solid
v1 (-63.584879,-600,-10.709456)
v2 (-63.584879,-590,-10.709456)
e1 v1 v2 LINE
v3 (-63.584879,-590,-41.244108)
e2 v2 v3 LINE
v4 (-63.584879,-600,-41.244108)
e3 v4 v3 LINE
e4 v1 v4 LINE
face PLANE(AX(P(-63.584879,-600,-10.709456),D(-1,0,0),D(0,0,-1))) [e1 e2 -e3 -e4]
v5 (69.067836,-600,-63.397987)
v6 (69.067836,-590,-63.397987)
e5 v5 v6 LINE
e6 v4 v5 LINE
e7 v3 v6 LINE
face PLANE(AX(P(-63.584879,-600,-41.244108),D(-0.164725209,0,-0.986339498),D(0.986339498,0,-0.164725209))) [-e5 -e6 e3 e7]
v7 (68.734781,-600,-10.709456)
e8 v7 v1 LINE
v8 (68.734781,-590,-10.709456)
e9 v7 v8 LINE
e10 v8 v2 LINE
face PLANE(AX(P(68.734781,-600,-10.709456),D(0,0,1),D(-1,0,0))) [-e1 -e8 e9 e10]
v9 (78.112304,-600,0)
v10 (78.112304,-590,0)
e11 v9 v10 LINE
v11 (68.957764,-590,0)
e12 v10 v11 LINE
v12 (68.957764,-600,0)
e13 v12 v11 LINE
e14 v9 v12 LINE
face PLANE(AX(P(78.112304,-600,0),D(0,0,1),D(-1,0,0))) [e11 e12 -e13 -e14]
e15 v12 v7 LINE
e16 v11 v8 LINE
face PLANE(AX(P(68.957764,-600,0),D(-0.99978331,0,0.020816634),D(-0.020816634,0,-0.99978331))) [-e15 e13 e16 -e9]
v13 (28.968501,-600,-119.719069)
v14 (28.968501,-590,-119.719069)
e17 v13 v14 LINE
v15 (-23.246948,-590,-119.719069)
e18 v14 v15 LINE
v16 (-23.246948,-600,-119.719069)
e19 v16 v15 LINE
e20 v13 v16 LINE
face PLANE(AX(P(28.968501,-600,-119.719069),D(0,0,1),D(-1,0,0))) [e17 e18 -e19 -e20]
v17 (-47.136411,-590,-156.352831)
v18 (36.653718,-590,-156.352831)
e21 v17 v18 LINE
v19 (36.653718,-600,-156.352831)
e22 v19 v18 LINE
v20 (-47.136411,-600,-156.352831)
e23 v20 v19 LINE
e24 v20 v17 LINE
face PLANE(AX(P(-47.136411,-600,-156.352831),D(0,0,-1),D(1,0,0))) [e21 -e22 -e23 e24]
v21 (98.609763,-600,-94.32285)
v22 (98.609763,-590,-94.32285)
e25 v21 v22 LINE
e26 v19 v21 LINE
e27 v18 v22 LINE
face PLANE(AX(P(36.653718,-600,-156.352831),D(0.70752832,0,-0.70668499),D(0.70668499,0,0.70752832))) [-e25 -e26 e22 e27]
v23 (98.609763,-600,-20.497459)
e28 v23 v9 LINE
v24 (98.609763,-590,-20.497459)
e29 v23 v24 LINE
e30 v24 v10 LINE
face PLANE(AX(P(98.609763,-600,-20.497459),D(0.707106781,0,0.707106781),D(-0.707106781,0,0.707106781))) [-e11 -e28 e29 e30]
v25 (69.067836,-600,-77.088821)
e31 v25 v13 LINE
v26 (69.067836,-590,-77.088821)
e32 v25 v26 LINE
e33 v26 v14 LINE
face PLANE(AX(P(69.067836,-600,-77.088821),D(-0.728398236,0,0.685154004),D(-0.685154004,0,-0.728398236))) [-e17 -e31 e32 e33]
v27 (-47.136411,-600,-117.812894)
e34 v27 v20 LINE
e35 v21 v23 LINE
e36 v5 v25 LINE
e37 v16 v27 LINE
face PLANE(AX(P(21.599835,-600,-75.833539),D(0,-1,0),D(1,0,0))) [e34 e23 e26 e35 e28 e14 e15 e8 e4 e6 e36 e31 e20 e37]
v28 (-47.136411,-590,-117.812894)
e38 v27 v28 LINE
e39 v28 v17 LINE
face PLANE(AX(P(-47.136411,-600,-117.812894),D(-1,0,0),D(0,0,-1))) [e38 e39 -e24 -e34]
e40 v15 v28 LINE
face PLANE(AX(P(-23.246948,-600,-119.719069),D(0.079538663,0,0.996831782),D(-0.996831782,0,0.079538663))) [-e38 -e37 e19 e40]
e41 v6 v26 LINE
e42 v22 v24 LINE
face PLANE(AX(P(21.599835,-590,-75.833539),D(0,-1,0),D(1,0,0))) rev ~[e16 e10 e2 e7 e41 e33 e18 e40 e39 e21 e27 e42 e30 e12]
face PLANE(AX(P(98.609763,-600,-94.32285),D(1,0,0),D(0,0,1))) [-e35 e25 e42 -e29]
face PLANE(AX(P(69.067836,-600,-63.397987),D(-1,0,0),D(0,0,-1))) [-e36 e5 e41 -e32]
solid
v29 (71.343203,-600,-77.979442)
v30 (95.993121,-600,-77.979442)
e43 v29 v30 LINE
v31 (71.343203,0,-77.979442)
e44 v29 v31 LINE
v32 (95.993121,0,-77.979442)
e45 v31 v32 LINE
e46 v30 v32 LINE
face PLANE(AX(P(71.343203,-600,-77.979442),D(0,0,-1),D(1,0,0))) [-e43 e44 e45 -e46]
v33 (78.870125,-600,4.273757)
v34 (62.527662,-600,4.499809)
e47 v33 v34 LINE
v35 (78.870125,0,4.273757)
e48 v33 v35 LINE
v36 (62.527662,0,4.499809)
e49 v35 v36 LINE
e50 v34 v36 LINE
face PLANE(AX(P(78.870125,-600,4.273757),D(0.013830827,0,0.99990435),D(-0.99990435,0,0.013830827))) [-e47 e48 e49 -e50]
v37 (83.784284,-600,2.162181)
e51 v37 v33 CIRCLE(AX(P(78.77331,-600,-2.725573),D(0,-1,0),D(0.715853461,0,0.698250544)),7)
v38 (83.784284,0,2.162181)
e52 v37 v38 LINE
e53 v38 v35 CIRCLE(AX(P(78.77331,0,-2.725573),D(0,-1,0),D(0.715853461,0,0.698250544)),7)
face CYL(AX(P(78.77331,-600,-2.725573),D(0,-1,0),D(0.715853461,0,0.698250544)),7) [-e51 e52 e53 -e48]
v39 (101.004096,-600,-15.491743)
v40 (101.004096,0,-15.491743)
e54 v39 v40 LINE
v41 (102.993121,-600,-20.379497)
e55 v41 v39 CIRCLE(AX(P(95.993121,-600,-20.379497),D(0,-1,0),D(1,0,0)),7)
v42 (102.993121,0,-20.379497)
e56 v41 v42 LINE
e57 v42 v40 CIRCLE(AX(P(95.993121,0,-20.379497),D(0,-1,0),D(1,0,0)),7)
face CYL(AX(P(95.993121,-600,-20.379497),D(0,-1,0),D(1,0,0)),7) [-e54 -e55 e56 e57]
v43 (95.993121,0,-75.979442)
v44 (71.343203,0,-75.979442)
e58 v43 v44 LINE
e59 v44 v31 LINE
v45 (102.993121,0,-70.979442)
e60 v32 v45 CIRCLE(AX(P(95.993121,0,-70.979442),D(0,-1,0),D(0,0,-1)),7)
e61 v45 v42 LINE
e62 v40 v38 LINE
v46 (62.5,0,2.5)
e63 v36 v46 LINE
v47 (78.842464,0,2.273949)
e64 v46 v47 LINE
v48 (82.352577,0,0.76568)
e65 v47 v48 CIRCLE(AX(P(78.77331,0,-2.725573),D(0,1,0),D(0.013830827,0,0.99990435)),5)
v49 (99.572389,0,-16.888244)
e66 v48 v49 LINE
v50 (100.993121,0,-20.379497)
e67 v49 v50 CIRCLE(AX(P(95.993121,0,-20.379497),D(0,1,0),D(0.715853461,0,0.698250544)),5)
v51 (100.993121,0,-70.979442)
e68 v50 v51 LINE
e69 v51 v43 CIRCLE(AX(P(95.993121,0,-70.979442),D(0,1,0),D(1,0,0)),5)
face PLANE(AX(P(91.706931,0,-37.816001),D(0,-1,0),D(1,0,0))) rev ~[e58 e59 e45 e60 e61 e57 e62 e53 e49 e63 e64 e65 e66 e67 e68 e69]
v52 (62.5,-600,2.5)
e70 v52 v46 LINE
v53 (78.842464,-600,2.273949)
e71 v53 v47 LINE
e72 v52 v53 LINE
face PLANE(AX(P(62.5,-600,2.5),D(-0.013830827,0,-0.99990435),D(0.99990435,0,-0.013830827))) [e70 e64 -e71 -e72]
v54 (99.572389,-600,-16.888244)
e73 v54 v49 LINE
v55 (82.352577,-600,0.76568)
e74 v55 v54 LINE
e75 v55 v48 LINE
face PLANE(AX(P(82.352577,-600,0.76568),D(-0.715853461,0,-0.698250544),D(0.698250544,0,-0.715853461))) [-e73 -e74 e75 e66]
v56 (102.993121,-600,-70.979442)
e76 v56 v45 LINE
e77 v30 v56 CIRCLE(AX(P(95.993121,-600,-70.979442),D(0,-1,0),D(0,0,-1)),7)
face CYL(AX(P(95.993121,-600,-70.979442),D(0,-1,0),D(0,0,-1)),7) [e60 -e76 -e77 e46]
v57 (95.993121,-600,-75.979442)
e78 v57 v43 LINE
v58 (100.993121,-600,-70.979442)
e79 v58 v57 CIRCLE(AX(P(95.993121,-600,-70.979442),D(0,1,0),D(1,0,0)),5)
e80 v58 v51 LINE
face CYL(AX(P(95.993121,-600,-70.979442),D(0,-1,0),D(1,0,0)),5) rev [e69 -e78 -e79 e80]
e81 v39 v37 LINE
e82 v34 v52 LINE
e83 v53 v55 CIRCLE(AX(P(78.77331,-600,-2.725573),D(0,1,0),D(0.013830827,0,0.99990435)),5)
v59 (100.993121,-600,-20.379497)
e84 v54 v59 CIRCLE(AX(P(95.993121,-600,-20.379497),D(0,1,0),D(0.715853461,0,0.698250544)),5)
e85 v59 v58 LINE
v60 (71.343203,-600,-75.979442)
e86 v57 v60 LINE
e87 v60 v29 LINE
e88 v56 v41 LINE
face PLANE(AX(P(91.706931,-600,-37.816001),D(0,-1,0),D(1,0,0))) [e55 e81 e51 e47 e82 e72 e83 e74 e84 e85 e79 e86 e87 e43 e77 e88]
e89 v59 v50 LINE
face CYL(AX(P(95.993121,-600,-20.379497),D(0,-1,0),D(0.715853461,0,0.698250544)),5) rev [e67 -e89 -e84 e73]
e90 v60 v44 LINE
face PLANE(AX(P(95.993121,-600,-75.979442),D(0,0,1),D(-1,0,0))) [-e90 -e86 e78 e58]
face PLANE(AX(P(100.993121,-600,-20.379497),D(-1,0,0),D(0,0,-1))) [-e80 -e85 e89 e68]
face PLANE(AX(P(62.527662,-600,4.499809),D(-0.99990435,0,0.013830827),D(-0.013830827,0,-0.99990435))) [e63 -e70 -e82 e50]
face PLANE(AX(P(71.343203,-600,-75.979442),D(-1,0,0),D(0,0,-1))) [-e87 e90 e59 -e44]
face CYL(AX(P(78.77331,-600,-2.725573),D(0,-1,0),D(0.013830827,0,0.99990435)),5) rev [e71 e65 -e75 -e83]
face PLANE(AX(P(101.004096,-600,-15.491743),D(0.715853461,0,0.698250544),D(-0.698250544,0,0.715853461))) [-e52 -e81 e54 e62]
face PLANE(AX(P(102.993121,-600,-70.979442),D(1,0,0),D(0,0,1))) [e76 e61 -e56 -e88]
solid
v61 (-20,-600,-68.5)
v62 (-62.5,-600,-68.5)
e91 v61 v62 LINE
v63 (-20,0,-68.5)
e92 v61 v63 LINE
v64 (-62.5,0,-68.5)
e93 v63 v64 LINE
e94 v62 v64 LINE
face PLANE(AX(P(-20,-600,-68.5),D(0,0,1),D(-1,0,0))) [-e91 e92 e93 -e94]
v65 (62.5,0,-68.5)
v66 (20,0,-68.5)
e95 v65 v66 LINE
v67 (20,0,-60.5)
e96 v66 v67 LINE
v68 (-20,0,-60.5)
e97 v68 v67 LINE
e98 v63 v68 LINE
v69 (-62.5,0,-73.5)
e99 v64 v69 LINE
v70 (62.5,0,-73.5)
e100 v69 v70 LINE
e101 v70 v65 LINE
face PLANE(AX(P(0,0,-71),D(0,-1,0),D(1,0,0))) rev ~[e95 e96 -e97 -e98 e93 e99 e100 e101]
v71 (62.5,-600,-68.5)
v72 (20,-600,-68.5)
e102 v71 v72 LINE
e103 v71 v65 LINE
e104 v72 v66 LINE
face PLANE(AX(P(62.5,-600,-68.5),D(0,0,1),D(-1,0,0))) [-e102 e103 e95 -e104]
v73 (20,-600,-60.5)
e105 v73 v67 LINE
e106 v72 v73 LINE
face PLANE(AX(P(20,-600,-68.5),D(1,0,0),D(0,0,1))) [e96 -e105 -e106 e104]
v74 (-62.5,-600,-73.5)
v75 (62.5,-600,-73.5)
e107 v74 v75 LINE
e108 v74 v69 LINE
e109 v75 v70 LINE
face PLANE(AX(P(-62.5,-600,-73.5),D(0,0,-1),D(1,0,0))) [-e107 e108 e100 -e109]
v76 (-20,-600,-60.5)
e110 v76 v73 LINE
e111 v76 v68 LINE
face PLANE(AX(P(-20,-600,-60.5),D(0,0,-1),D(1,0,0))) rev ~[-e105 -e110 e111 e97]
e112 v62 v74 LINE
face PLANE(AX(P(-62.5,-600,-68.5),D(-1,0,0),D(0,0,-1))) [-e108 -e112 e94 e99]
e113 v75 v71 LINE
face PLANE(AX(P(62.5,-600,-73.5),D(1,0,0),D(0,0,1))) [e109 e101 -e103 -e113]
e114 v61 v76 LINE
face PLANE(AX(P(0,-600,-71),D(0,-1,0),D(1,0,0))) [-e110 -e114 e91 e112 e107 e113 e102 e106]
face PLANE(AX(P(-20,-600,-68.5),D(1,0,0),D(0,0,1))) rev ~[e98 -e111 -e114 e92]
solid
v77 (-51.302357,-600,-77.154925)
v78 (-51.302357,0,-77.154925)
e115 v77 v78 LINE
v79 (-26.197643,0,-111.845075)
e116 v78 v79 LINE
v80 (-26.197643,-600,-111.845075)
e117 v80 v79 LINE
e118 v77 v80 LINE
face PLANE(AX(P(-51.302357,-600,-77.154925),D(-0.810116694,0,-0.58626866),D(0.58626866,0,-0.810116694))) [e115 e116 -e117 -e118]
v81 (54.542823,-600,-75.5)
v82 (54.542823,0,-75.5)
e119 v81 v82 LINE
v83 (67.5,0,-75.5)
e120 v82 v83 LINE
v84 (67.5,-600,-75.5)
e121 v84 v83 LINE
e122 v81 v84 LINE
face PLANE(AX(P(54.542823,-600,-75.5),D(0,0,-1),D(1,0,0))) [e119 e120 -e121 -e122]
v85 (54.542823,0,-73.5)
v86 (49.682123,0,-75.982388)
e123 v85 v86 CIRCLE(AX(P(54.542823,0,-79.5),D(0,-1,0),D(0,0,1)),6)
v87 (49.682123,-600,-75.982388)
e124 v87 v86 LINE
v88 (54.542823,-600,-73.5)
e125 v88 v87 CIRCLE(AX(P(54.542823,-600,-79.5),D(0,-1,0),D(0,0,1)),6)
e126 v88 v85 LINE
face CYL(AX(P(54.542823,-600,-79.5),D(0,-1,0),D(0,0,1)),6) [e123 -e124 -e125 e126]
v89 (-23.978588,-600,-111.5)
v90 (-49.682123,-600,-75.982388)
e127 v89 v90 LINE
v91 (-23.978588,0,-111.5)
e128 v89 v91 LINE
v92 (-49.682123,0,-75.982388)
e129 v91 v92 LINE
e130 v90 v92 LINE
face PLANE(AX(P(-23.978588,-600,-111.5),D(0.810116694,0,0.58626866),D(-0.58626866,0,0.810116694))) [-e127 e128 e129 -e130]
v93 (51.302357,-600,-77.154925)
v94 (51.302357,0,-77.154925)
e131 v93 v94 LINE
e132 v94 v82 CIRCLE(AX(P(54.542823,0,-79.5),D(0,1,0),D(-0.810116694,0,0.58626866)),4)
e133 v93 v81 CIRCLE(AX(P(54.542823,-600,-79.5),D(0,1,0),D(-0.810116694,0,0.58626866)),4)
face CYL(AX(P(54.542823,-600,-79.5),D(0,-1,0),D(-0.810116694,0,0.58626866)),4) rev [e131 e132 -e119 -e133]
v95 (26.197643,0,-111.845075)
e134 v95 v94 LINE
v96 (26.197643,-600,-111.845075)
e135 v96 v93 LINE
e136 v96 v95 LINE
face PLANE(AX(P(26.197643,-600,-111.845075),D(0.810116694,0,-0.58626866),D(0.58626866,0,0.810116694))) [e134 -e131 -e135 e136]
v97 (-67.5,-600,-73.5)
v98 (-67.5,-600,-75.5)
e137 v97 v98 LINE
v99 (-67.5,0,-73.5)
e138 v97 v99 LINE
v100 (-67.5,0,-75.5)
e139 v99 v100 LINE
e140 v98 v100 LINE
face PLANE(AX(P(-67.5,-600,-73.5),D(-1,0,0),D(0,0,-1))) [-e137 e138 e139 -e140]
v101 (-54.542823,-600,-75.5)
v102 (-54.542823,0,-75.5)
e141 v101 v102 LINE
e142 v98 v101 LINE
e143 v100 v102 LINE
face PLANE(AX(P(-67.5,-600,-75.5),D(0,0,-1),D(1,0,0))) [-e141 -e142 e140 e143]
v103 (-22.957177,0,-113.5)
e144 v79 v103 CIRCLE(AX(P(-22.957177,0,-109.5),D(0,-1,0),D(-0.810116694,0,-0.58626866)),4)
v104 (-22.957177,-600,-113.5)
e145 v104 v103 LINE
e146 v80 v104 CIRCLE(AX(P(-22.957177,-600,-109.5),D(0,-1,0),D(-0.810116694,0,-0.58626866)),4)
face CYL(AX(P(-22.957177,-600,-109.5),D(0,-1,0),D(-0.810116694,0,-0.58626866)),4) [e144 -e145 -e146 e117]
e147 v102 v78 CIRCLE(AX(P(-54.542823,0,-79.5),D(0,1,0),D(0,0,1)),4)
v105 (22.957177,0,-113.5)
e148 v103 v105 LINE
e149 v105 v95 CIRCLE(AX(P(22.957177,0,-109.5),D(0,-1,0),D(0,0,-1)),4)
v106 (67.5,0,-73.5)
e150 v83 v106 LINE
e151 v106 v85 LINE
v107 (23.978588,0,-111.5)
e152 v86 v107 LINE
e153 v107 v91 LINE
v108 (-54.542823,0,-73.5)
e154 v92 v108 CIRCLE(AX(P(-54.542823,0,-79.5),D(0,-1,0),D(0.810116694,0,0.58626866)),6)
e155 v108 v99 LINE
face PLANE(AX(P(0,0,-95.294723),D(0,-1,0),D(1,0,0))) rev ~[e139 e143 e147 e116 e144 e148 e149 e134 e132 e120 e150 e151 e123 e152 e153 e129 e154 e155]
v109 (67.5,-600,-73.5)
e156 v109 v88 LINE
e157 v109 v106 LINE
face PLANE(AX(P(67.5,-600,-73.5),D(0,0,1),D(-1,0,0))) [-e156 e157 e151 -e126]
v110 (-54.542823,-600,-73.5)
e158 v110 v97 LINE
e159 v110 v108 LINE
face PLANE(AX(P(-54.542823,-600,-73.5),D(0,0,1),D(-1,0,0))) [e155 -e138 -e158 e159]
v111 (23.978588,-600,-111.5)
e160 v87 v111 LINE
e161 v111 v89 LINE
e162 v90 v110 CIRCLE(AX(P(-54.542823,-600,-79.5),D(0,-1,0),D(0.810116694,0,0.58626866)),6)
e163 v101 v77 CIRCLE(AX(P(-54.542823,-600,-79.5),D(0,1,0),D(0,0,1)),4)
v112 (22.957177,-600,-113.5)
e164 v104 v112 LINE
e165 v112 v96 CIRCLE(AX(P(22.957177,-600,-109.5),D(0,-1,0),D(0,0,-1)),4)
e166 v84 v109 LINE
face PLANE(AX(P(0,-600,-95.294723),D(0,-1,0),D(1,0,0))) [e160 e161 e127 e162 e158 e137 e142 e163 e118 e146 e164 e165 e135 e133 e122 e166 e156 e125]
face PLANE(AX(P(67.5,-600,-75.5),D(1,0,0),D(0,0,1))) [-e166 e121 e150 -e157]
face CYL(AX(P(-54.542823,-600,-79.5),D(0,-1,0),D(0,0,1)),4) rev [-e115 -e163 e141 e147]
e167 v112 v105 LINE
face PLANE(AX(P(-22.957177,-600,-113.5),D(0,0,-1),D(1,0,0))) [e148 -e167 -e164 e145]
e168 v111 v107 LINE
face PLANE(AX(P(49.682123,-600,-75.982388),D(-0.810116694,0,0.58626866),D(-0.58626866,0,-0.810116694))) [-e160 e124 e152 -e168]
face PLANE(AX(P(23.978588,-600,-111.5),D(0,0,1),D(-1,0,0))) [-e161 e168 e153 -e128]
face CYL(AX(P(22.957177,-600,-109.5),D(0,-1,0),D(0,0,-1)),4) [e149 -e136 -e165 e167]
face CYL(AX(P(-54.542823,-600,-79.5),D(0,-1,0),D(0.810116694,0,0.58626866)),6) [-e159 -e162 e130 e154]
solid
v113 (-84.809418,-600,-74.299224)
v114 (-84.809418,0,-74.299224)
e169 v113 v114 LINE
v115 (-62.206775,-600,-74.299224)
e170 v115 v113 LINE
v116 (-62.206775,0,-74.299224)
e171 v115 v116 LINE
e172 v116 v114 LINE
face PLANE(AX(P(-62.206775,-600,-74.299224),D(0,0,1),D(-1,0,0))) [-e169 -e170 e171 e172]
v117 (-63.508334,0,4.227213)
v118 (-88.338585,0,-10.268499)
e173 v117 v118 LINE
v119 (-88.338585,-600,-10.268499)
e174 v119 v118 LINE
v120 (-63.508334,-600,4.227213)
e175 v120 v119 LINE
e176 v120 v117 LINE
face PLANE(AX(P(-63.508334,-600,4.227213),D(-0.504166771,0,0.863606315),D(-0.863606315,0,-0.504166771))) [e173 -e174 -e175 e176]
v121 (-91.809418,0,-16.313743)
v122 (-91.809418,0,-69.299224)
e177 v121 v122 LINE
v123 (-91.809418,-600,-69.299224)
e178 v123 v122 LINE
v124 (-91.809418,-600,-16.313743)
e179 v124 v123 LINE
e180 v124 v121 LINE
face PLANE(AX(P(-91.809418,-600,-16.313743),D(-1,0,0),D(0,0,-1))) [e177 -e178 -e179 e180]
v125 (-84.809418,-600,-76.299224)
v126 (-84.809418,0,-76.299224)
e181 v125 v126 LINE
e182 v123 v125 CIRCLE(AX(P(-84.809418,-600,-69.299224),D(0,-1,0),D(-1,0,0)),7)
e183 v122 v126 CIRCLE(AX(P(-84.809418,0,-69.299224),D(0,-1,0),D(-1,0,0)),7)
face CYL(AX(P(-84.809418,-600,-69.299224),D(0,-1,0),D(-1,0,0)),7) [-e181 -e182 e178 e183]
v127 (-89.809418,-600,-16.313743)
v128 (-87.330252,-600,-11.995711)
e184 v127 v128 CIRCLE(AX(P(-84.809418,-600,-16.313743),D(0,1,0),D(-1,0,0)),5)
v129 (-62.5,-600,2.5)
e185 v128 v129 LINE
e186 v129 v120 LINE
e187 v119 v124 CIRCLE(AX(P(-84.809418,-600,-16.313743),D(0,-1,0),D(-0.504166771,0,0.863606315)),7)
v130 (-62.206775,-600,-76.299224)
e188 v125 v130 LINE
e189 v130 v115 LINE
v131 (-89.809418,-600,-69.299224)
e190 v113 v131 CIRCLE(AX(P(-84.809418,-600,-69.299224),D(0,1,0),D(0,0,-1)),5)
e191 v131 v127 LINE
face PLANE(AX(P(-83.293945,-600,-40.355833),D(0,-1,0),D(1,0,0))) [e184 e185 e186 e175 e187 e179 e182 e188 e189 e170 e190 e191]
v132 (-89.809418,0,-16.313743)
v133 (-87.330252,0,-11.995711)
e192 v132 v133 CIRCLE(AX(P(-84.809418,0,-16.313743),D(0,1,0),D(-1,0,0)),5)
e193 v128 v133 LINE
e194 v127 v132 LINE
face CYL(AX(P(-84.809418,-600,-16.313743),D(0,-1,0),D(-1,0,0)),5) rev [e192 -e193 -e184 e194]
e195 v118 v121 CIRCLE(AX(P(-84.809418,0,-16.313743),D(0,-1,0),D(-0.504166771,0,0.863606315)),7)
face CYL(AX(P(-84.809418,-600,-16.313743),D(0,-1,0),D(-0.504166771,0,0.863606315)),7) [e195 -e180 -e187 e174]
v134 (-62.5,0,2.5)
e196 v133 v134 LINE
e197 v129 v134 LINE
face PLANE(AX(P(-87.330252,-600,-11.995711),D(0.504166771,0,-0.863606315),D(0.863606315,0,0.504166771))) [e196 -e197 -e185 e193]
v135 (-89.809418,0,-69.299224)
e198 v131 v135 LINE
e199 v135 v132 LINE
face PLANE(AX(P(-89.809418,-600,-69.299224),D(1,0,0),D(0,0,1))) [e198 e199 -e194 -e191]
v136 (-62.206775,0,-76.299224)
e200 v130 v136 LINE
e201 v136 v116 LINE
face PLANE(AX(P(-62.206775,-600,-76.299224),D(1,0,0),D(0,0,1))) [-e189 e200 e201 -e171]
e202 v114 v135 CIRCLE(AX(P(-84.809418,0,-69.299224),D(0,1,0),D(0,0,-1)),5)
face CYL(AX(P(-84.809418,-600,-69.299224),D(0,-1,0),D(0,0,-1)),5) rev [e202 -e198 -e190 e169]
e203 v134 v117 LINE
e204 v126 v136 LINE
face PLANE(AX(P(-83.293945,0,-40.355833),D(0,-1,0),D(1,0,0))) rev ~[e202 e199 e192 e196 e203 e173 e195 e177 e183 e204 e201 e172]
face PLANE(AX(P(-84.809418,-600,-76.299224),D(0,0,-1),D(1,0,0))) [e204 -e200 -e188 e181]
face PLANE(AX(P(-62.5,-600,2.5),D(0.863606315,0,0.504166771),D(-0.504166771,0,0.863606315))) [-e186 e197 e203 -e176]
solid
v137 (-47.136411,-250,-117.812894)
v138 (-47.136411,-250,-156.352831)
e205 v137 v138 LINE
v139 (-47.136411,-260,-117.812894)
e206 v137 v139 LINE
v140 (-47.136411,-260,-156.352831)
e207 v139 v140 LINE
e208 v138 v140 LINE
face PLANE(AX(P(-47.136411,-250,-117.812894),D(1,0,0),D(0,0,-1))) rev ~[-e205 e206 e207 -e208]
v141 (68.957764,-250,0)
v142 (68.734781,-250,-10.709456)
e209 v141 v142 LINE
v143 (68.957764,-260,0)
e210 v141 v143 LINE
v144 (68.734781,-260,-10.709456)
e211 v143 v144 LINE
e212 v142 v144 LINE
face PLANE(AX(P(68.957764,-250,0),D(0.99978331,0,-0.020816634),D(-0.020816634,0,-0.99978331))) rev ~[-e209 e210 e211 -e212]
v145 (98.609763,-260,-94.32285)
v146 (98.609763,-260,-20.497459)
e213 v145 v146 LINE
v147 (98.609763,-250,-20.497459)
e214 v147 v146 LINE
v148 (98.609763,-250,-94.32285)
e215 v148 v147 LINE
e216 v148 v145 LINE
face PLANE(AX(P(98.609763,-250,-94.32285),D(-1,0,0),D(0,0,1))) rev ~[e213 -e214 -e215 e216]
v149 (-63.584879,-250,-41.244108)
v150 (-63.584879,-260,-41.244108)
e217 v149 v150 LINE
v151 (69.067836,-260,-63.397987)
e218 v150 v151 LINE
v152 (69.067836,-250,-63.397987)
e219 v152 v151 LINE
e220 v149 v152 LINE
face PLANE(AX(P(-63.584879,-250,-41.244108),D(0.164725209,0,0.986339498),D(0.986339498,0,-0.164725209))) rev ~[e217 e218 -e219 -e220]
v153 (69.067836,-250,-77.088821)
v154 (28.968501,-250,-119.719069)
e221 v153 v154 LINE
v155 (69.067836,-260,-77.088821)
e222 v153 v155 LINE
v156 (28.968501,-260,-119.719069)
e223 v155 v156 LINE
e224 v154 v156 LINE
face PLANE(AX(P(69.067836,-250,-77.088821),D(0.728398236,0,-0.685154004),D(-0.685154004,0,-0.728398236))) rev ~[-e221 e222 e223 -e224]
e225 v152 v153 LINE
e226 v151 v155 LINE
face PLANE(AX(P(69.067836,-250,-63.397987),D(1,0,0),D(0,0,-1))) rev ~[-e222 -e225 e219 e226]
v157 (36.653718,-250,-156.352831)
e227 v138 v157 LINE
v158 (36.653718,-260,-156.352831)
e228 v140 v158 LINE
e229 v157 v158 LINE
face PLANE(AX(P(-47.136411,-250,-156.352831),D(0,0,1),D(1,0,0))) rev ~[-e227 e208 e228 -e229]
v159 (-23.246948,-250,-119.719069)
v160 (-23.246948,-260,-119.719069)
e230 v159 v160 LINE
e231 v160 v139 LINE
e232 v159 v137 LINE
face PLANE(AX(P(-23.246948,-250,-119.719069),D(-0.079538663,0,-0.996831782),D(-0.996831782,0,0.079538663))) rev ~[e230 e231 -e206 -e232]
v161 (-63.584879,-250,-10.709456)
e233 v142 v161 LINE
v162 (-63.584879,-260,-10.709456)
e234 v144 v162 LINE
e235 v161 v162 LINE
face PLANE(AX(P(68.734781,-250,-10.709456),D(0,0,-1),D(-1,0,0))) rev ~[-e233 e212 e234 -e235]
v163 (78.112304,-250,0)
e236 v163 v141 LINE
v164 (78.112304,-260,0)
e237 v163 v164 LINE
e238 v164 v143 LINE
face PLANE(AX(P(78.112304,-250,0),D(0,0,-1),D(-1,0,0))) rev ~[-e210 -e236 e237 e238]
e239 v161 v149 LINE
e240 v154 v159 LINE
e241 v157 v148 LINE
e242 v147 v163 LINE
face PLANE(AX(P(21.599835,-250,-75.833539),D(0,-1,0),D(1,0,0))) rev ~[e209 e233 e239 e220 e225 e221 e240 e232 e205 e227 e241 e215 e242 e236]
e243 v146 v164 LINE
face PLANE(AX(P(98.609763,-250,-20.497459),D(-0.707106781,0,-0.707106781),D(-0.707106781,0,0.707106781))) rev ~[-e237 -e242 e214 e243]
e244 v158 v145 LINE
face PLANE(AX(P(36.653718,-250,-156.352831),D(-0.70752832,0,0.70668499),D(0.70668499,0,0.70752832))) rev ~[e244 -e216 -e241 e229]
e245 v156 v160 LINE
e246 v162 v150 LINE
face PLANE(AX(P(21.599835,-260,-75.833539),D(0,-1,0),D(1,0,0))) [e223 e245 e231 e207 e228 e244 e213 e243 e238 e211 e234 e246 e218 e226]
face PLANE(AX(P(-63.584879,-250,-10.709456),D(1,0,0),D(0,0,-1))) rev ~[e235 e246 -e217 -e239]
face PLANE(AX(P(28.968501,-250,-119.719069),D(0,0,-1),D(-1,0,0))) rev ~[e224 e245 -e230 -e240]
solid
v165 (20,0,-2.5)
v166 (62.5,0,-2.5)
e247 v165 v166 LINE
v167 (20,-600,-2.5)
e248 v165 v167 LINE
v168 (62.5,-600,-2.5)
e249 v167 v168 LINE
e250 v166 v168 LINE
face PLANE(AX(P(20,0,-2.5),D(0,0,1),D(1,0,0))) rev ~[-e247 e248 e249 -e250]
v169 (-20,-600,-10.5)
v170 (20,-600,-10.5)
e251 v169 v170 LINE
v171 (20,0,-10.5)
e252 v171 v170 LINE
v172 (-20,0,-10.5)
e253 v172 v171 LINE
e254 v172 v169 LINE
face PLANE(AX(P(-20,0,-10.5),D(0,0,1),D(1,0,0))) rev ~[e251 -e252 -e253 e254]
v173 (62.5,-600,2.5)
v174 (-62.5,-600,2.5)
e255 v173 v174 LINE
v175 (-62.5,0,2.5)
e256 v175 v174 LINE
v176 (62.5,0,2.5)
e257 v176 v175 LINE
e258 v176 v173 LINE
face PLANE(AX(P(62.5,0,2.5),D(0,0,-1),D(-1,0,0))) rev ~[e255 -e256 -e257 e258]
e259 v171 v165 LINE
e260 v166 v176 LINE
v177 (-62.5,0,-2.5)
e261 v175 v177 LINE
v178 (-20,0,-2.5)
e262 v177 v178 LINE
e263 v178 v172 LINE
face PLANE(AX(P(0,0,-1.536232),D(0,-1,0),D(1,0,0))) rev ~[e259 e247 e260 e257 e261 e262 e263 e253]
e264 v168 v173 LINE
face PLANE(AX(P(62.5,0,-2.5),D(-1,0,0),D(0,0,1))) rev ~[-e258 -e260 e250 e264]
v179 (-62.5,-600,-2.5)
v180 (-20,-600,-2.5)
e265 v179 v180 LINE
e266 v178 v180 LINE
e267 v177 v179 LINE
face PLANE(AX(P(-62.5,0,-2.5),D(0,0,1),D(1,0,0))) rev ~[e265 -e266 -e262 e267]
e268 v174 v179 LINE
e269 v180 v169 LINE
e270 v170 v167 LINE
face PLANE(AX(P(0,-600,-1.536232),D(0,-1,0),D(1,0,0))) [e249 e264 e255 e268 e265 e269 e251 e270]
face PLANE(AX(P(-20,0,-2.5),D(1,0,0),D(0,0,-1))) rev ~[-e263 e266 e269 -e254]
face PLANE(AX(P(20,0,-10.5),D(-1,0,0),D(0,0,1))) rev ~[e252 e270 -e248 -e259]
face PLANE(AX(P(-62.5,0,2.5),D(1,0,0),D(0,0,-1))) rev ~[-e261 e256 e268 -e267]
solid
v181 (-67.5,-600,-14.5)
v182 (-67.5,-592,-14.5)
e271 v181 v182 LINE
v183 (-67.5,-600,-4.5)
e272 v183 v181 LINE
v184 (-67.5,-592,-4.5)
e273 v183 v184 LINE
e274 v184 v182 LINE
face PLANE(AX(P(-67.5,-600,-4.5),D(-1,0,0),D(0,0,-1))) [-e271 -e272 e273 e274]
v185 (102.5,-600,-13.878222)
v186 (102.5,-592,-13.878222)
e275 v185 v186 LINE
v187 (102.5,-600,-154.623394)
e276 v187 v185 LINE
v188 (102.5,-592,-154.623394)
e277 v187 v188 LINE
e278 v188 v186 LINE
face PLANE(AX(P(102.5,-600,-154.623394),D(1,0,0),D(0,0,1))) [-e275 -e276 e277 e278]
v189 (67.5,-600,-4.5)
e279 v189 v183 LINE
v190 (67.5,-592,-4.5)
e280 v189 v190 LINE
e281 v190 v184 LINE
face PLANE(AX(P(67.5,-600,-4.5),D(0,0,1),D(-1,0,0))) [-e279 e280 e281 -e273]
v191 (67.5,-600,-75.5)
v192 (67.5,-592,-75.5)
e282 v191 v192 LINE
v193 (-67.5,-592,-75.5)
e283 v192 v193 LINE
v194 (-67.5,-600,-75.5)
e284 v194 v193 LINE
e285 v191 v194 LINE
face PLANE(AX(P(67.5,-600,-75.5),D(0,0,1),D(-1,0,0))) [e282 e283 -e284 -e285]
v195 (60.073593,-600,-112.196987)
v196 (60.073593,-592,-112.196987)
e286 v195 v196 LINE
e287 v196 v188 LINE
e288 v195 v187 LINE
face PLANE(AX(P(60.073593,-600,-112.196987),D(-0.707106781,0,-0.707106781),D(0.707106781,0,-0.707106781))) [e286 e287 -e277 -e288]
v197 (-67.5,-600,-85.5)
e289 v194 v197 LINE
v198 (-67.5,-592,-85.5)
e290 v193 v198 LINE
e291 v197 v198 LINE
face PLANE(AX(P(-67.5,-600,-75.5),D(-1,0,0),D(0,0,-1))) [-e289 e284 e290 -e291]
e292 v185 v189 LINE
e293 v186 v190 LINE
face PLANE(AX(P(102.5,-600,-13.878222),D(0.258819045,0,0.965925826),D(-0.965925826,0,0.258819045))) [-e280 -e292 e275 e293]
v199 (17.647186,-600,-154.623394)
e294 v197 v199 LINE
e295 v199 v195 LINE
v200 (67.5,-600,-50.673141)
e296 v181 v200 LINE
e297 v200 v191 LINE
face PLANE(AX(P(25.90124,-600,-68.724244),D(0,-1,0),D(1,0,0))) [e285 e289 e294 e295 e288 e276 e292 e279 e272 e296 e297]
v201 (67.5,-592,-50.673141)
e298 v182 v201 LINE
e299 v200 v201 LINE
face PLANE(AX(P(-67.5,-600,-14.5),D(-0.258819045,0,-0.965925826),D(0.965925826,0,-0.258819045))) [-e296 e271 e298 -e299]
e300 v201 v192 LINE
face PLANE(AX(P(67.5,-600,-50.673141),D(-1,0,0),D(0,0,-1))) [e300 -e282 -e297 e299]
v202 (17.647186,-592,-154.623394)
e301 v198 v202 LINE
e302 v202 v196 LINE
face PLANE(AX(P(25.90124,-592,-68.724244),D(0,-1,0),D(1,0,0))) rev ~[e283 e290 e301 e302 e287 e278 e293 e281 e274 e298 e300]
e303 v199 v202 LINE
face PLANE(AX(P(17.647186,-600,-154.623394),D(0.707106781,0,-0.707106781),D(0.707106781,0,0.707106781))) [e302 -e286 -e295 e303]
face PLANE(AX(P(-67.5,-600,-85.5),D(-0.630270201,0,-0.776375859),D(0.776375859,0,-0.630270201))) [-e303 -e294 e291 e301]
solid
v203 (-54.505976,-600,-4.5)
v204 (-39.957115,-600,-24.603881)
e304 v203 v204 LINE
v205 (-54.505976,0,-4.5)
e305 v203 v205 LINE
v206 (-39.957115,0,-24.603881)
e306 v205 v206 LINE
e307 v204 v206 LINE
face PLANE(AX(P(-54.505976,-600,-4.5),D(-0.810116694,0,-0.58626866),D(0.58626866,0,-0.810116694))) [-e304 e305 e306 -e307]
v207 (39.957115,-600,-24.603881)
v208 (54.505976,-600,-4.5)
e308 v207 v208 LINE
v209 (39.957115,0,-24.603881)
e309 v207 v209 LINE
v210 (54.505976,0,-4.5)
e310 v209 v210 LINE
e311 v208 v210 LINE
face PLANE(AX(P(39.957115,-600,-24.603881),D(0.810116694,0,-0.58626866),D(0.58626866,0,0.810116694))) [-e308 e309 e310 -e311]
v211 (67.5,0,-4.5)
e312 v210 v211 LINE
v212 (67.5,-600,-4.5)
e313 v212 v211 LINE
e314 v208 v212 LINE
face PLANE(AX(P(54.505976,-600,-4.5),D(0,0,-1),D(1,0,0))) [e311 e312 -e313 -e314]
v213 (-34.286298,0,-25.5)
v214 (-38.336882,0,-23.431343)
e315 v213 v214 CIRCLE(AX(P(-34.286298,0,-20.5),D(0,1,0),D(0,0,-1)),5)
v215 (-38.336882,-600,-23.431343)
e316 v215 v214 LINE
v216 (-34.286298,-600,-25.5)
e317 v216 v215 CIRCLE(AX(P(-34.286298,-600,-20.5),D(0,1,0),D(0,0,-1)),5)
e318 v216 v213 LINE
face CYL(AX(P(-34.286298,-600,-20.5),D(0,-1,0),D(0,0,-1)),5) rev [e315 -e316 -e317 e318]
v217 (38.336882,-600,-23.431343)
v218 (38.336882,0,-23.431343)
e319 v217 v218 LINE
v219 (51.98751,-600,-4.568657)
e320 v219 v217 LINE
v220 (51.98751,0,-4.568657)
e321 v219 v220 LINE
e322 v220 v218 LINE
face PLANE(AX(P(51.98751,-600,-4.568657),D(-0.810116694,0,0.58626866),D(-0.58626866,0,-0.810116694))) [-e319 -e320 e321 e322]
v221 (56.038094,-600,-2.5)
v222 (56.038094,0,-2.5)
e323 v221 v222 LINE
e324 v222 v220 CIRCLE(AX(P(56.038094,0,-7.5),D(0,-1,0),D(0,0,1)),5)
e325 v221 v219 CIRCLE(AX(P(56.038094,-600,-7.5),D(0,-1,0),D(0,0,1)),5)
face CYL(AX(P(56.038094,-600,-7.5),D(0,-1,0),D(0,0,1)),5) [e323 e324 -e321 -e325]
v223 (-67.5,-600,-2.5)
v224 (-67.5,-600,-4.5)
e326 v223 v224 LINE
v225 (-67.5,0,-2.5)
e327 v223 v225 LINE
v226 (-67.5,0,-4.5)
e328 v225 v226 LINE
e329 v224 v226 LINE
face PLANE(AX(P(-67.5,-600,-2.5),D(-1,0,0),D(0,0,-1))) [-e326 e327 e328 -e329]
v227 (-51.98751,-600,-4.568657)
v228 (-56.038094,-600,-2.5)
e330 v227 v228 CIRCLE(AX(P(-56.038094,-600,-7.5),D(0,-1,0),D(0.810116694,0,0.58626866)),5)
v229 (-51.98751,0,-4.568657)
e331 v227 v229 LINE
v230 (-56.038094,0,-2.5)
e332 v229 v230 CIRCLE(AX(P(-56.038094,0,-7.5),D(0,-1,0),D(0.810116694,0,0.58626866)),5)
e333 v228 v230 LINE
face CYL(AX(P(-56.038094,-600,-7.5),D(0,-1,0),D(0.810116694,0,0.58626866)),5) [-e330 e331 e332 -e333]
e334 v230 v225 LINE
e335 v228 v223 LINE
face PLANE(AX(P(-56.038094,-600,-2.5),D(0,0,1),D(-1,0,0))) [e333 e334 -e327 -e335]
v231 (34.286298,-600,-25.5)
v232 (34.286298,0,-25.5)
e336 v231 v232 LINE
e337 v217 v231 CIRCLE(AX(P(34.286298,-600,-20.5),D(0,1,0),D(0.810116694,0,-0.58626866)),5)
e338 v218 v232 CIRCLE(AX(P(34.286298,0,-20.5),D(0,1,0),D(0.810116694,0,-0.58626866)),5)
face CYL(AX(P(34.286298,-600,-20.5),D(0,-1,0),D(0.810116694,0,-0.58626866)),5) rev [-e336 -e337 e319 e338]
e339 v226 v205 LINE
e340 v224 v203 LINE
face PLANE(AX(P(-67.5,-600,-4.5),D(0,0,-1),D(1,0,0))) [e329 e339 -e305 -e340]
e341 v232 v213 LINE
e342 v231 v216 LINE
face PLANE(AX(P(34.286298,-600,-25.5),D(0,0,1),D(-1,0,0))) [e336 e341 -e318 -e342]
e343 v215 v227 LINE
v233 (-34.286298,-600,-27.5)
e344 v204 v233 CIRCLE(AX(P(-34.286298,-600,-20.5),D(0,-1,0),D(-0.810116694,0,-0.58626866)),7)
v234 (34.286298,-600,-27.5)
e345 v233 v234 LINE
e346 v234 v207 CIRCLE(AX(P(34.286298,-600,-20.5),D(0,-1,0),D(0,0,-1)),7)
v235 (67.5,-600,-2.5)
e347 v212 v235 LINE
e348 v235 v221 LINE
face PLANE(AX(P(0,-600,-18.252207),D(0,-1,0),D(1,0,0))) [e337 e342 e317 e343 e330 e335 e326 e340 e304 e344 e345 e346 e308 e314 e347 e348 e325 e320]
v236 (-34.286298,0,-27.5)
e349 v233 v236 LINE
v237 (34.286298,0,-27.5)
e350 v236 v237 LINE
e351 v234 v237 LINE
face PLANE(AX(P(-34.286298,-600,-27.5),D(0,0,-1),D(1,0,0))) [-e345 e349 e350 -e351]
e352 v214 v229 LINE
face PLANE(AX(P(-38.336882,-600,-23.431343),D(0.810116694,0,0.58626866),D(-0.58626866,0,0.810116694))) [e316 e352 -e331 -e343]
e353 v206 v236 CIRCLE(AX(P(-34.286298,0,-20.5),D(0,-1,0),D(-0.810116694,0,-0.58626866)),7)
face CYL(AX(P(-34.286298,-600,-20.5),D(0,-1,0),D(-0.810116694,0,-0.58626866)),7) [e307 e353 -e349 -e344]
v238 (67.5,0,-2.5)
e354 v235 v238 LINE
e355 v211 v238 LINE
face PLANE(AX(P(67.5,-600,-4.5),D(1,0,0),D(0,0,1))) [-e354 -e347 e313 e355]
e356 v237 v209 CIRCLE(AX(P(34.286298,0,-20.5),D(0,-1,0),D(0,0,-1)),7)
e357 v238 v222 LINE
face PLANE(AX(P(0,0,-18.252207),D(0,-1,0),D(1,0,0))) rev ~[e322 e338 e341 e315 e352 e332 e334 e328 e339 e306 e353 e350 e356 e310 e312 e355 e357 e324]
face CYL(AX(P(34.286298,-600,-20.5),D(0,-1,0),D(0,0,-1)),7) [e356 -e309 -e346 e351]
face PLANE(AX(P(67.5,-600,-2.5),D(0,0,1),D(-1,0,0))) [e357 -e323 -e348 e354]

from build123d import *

# Parameters (mm, degrees)
F1_DEPTH  = 600
F2_W      = 40
F2_H      = 8
F3_DEPTH  = 600
F5_DEPTH  = 8
F7_DEPTH  = 600
F9_DEPTH  = 600
F11_DEPTH = 10
F14_DEPTH = 10
F16_DEPTH = 600
F18_DEPTH = 600


with BuildPart() as f1:
    # F0 (on Front) → F1 (new body)
    with BuildSketch(Plane.XZ):
        Polygon((62.5, -2.5), (62.5, 2.5), (-62.5, 2.5), (-62.5, -2.5), (-20, -2.5), (-20, -10.5), (20, -10.5), (20, -2.5), align=None)
    extrude(amount=F1_DEPTH)


with BuildPart() as f3:
    # F2 (on face) → F3 (new body)
    with BuildSketch(Plane.XZ.offset(600)):
        Polygon((62.5, -73.5), (62.5, -68.5), (20, -68.5), (-20, -68.5), (-62.5, -68.5), (-62.5, -73.5), align=None)
        with Locations((0, -64.5)):
            Rectangle(F2_W, F2_H)
    extrude(amount=-F3_DEPTH)


with BuildPart() as f5:
    # F4 (on face) → F5 (new body)
    with BuildSketch(Plane.XZ.offset(600)):
        Polygon((67.5, -4.5), (-67.5, -4.5), (-67.5, -14.5), (67.5, -50.6731409782), (67.5, -75.5), (-67.5, -75.5), (-67.5, -85.5), (17.6471862576, -154.6233937864), (60.0735931288, -112.1969869152), (102.5, -154.6233937864), (102.5, -13.8782217351), align=None)
    extrude(amount=-F5_DEPTH)


with BuildPart() as f7:
    # F6 (on face) → F7 (new body)
    with BuildSketch(Plane.XZ.offset(600)):
        with BuildLine():
            Line((-62.5, -73.5), (-67.5, -73.5))
            Line((-67.5, -73.5), (-67.5, -75.5))
            Line((-67.5, -75.5), (-54.5428234244, -75.5))
            ThreePointArc((-54.5428234244, -75.5), (-52.7235239113, -75.937676421), (-51.302356648, -77.1549253592))
            Line((-51.302356648, -77.1549253592), (-26.197643352, -111.8450746408))
            ThreePointArc((-26.197643352, -111.8450746408), (-24.7764760887, -113.062323579), (-22.9571765756, -113.5))
            Line((-22.9571765756, -113.5), (0, -113.5))
            Line((0, -113.5), (22.9571765756, -113.5))
            ThreePointArc((22.9571765756, -113.5), (24.7764760887, -113.062323579), (26.197643352, -111.8450746408))
            Line((26.197643352, -111.8450746408), (51.302356648, -77.1549253592))
            ThreePointArc((51.302356648, -77.1549253592), (52.7235239113, -75.937676421), (54.5428234244, -75.5))
            Line((54.5428234244, -75.5), (67.5, -75.5))
            Line((67.5, -75.5), (67.5, -73.5))
            Line((67.5, -73.5), (62.5, -73.5))
            Line((62.5, -73.5), (54.5428234244, -73.5))
            ThreePointArc((54.5428234244, -73.5), (51.8138741547, -74.1565146315), (49.6821232598, -75.9823880388))
            Line((49.6821232598, -75.9823880388), (23.9785882878, -111.5))
            Line((23.9785882878, -111.5), (0, -111.5))
            Line((0, -111.5), (-23.9785882878, -111.5))
            Line((-23.9785882878, -111.5), (-49.6821232598, -75.9823880388))
            ThreePointArc((-49.6821232598, -75.9823880388), (-51.8138741547, -74.1565146315), (-54.5428234244, -73.5))
            Line((-54.5428234244, -73.5), (-62.5, -73.5))
        make_face()
    extrude(amount=-F7_DEPTH)


with BuildPart() as f9:
    # F8 (on face) → F9 (new body)
    with BuildSketch(Plane.XZ.offset(600)):
        with BuildLine():
            Line((-56.0380938509, -2.5), (-67.5, -2.5))
            Line((-67.5, -2.5), (-67.5, -4.5))
            Line((-67.5, -4.5), (-54.5059762826, -4.5))
            Line((-54.5059762826, -4.5), (-39.9571153066, -24.6038806214))
            ThreePointArc((-39.9571153066, -24.6038806214), (-37.4700725958, -26.7340662633), (-34.2862984479, -27.5))
            Line((-34.2862984479, -27.5), (0, -27.5))
            Line((0, -27.5), (34.2862984479, -27.5))
            ThreePointArc((34.2862984479, -27.5), (37.4700725958, -26.7340662633), (39.9571153066, -24.6038806214))
            Line((39.9571153066, -24.6038806214), (54.5059762826, -4.5))
            Line((54.5059762826, -4.5), (67.5, -4.5))
            Line((67.5, -4.5), (67.5, -2.5))
            Line((67.5, -2.5), (56.0380938509, -2.5))
            ThreePointArc((56.0380938509, -2.5), (53.7639694596, -3.0470955262), (51.9875103804, -4.568656699))
            Line((51.9875103804, -4.568656699), (38.3368819184, -23.431343301))
            ThreePointArc((38.3368819184, -23.431343301), (36.5604228393, -24.9529044738), (34.2862984479, -25.5))
            Line((34.2862984479, -25.5), (0, -25.5))
            Line((0, -25.5), (-34.2862984479, -25.5))
            ThreePointArc((-34.2862984479, -25.5), (-36.5604228393, -24.9529044738), (-38.3368819184, -23.431343301))
            Line((-38.3368819184, -23.431343301), (-51.9875103804, -4.568656699))
            ThreePointArc((-51.9875103804, -4.568656699), (-53.7639694596, -3.0470955262), (-56.0380938509, -2.5))
        make_face()
    extrude(amount=-F9_DEPTH)


with BuildPart() as f11:
    # F10 (on face) → F11 (new body)
    with BuildSketch(Plane.XZ.offset(600)):
        Polygon((-63.5848790407, -41.2441077431), (69.0678358078, -63.3979870606), (69.0678358078, -77.0888211463), (28.9685007621, -119.7190688296), (-23.246947673, -119.7190688296), (-47.1364110708, -117.8128936633), (-47.1364110708, -156.352830978), (36.653718192, -156.352830978), (98.609762815, -94.3228504545), (98.609762815, -20.4974586044), (78.1123042107, 0), (68.9577640522, 0), (68.7347809, -10.709456478), (-63.5848790407, -10.709456478), align=None)
    extrude(amount=-F11_DEPTH)


with BuildPart() as f14:
    # F13 (on offset) → F14 (new body)
    with BuildSketch(Plane.XZ.offset(250)):
        Polygon((68.9577640522, 0), (68.7347809, -10.709456478), (-63.5848790407, -10.709456478), (-63.5848790407, -41.2441077431), (69.0678358078, -63.3979870606), (69.0678358078, -77.0888211463), (28.9685007621, -119.7190688296), (-23.246947673, -119.7190688296), (-47.1364110708, -117.8128936633), (-47.1364110708, -156.352830978), (36.653718192, -156.352830978), (98.609762815, -94.3228504545), (98.609762815, -20.4974586044), (78.1123042107, 0), align=None)
    extrude(amount=F14_DEPTH)


with BuildPart() as f16:
    # F15 (on face) → F16 (new body)
    with BuildSketch(Plane.XZ.offset(600)):
        with BuildLine():
            Line((62.5276616535, 4.4998086991), (62.5, 2.5))
            Line((62.5, 2.5), (78.8424637756, 2.2739485929))
            ThreePointArc((78.8424637756, 2.2739485929), (80.7472558461, 1.8682853958), (82.3525769484, 0.7656795642))
            Line((82.3525769484, 0.7656795642), (99.5723887191, -16.8882441871))
            ThreePointArc((99.5723887191, -16.8882441871), (100.624338128, -18.494866509), (100.9931214124, -20.379496906))
            Line((100.9931214124, -20.379496906), (100.9931214124, -70.9794420705))
            ThreePointArc((100.9931214124, -70.9794420705), (99.5286553184, -74.5149759764), (95.9931214124, -75.9794420705))
            Line((95.9931214124, -75.9794420705), (71.3432030433, -75.9794420705))
            Line((71.3432030433, -75.9794420705), (71.3432030433, -77.9794420705))
            Line((71.3432030433, -77.9794420705), (95.9931214124, -77.9794420705))
            ThreePointArc((95.9931214124, -77.9794420705), (100.9428688807, -75.9291895388), (102.9931214124, -70.9794420705))
            Line((102.9931214124, -70.9794420705), (102.9931214124, -20.379496906))
            ThreePointArc((102.9931214124, -20.379496906), (102.4768248142, -17.7410143502), (101.0040956417, -15.4917430995))
            Line((101.0040956417, -15.4917430995), (83.7842838711, 2.1621806518))
            ThreePointArc((83.7842838711, 2.1621806518), (81.5368343278, 3.705828816), (78.8701254291, 4.273757292))
            Line((78.8701254291, 4.273757292), (62.5276616535, 4.4998086991))
        make_face()
    extrude(amount=-F16_DEPTH)


with BuildPart() as f18:
    # F17 (on face) → F18 (new body)
    with BuildSketch(Plane.XZ.offset(600)):
        with BuildLine():
            Line((-87.3302515781, -11.9957112245), (-62.5, 2.5))
            Line((-62.5, 2.5), (-63.5083335414, 4.22721263))
            Line((-63.5083335414, 4.22721263), (-88.3385851196, -10.2684985945))
            ThreePointArc((-88.3385851196, -10.2684985945), (-90.8800096136, -12.8283570078), (-91.8094177246, -16.3137427996))
            Line((-91.8094177246, -16.3137427996), (-91.8094177246, -69.299223721))
            ThreePointArc((-91.8094177246, -69.299223721), (-89.7591651929, -74.2489711893), (-84.8094177246, -76.299223721))
            Line((-84.8094177246, -76.299223721), (-62.20677495, -76.299223721))
            Line((-62.20677495, -76.299223721), (-62.20677495, -74.299223721))
            Line((-62.20677495, -74.299223721), (-84.8094177246, -74.299223721))
            ThreePointArc((-84.8094177246, -74.299223721), (-88.3449516305, -72.834757627), (-89.8094177246, -69.299223721))
            Line((-89.8094177246, -69.299223721), (-89.8094177246, -16.3137427996))
            ThreePointArc((-89.8094177246, -16.3137427996), (-89.1455547882, -13.8241815197), (-87.3302515781, -11.9957112245))
        make_face()
    extrude(amount=-F18_DEPTH)


solid = Compound([f1.part, f3.part, f5.part, f7.part, f9.part, f11.part, f14.part, f16.part, f18.part])
